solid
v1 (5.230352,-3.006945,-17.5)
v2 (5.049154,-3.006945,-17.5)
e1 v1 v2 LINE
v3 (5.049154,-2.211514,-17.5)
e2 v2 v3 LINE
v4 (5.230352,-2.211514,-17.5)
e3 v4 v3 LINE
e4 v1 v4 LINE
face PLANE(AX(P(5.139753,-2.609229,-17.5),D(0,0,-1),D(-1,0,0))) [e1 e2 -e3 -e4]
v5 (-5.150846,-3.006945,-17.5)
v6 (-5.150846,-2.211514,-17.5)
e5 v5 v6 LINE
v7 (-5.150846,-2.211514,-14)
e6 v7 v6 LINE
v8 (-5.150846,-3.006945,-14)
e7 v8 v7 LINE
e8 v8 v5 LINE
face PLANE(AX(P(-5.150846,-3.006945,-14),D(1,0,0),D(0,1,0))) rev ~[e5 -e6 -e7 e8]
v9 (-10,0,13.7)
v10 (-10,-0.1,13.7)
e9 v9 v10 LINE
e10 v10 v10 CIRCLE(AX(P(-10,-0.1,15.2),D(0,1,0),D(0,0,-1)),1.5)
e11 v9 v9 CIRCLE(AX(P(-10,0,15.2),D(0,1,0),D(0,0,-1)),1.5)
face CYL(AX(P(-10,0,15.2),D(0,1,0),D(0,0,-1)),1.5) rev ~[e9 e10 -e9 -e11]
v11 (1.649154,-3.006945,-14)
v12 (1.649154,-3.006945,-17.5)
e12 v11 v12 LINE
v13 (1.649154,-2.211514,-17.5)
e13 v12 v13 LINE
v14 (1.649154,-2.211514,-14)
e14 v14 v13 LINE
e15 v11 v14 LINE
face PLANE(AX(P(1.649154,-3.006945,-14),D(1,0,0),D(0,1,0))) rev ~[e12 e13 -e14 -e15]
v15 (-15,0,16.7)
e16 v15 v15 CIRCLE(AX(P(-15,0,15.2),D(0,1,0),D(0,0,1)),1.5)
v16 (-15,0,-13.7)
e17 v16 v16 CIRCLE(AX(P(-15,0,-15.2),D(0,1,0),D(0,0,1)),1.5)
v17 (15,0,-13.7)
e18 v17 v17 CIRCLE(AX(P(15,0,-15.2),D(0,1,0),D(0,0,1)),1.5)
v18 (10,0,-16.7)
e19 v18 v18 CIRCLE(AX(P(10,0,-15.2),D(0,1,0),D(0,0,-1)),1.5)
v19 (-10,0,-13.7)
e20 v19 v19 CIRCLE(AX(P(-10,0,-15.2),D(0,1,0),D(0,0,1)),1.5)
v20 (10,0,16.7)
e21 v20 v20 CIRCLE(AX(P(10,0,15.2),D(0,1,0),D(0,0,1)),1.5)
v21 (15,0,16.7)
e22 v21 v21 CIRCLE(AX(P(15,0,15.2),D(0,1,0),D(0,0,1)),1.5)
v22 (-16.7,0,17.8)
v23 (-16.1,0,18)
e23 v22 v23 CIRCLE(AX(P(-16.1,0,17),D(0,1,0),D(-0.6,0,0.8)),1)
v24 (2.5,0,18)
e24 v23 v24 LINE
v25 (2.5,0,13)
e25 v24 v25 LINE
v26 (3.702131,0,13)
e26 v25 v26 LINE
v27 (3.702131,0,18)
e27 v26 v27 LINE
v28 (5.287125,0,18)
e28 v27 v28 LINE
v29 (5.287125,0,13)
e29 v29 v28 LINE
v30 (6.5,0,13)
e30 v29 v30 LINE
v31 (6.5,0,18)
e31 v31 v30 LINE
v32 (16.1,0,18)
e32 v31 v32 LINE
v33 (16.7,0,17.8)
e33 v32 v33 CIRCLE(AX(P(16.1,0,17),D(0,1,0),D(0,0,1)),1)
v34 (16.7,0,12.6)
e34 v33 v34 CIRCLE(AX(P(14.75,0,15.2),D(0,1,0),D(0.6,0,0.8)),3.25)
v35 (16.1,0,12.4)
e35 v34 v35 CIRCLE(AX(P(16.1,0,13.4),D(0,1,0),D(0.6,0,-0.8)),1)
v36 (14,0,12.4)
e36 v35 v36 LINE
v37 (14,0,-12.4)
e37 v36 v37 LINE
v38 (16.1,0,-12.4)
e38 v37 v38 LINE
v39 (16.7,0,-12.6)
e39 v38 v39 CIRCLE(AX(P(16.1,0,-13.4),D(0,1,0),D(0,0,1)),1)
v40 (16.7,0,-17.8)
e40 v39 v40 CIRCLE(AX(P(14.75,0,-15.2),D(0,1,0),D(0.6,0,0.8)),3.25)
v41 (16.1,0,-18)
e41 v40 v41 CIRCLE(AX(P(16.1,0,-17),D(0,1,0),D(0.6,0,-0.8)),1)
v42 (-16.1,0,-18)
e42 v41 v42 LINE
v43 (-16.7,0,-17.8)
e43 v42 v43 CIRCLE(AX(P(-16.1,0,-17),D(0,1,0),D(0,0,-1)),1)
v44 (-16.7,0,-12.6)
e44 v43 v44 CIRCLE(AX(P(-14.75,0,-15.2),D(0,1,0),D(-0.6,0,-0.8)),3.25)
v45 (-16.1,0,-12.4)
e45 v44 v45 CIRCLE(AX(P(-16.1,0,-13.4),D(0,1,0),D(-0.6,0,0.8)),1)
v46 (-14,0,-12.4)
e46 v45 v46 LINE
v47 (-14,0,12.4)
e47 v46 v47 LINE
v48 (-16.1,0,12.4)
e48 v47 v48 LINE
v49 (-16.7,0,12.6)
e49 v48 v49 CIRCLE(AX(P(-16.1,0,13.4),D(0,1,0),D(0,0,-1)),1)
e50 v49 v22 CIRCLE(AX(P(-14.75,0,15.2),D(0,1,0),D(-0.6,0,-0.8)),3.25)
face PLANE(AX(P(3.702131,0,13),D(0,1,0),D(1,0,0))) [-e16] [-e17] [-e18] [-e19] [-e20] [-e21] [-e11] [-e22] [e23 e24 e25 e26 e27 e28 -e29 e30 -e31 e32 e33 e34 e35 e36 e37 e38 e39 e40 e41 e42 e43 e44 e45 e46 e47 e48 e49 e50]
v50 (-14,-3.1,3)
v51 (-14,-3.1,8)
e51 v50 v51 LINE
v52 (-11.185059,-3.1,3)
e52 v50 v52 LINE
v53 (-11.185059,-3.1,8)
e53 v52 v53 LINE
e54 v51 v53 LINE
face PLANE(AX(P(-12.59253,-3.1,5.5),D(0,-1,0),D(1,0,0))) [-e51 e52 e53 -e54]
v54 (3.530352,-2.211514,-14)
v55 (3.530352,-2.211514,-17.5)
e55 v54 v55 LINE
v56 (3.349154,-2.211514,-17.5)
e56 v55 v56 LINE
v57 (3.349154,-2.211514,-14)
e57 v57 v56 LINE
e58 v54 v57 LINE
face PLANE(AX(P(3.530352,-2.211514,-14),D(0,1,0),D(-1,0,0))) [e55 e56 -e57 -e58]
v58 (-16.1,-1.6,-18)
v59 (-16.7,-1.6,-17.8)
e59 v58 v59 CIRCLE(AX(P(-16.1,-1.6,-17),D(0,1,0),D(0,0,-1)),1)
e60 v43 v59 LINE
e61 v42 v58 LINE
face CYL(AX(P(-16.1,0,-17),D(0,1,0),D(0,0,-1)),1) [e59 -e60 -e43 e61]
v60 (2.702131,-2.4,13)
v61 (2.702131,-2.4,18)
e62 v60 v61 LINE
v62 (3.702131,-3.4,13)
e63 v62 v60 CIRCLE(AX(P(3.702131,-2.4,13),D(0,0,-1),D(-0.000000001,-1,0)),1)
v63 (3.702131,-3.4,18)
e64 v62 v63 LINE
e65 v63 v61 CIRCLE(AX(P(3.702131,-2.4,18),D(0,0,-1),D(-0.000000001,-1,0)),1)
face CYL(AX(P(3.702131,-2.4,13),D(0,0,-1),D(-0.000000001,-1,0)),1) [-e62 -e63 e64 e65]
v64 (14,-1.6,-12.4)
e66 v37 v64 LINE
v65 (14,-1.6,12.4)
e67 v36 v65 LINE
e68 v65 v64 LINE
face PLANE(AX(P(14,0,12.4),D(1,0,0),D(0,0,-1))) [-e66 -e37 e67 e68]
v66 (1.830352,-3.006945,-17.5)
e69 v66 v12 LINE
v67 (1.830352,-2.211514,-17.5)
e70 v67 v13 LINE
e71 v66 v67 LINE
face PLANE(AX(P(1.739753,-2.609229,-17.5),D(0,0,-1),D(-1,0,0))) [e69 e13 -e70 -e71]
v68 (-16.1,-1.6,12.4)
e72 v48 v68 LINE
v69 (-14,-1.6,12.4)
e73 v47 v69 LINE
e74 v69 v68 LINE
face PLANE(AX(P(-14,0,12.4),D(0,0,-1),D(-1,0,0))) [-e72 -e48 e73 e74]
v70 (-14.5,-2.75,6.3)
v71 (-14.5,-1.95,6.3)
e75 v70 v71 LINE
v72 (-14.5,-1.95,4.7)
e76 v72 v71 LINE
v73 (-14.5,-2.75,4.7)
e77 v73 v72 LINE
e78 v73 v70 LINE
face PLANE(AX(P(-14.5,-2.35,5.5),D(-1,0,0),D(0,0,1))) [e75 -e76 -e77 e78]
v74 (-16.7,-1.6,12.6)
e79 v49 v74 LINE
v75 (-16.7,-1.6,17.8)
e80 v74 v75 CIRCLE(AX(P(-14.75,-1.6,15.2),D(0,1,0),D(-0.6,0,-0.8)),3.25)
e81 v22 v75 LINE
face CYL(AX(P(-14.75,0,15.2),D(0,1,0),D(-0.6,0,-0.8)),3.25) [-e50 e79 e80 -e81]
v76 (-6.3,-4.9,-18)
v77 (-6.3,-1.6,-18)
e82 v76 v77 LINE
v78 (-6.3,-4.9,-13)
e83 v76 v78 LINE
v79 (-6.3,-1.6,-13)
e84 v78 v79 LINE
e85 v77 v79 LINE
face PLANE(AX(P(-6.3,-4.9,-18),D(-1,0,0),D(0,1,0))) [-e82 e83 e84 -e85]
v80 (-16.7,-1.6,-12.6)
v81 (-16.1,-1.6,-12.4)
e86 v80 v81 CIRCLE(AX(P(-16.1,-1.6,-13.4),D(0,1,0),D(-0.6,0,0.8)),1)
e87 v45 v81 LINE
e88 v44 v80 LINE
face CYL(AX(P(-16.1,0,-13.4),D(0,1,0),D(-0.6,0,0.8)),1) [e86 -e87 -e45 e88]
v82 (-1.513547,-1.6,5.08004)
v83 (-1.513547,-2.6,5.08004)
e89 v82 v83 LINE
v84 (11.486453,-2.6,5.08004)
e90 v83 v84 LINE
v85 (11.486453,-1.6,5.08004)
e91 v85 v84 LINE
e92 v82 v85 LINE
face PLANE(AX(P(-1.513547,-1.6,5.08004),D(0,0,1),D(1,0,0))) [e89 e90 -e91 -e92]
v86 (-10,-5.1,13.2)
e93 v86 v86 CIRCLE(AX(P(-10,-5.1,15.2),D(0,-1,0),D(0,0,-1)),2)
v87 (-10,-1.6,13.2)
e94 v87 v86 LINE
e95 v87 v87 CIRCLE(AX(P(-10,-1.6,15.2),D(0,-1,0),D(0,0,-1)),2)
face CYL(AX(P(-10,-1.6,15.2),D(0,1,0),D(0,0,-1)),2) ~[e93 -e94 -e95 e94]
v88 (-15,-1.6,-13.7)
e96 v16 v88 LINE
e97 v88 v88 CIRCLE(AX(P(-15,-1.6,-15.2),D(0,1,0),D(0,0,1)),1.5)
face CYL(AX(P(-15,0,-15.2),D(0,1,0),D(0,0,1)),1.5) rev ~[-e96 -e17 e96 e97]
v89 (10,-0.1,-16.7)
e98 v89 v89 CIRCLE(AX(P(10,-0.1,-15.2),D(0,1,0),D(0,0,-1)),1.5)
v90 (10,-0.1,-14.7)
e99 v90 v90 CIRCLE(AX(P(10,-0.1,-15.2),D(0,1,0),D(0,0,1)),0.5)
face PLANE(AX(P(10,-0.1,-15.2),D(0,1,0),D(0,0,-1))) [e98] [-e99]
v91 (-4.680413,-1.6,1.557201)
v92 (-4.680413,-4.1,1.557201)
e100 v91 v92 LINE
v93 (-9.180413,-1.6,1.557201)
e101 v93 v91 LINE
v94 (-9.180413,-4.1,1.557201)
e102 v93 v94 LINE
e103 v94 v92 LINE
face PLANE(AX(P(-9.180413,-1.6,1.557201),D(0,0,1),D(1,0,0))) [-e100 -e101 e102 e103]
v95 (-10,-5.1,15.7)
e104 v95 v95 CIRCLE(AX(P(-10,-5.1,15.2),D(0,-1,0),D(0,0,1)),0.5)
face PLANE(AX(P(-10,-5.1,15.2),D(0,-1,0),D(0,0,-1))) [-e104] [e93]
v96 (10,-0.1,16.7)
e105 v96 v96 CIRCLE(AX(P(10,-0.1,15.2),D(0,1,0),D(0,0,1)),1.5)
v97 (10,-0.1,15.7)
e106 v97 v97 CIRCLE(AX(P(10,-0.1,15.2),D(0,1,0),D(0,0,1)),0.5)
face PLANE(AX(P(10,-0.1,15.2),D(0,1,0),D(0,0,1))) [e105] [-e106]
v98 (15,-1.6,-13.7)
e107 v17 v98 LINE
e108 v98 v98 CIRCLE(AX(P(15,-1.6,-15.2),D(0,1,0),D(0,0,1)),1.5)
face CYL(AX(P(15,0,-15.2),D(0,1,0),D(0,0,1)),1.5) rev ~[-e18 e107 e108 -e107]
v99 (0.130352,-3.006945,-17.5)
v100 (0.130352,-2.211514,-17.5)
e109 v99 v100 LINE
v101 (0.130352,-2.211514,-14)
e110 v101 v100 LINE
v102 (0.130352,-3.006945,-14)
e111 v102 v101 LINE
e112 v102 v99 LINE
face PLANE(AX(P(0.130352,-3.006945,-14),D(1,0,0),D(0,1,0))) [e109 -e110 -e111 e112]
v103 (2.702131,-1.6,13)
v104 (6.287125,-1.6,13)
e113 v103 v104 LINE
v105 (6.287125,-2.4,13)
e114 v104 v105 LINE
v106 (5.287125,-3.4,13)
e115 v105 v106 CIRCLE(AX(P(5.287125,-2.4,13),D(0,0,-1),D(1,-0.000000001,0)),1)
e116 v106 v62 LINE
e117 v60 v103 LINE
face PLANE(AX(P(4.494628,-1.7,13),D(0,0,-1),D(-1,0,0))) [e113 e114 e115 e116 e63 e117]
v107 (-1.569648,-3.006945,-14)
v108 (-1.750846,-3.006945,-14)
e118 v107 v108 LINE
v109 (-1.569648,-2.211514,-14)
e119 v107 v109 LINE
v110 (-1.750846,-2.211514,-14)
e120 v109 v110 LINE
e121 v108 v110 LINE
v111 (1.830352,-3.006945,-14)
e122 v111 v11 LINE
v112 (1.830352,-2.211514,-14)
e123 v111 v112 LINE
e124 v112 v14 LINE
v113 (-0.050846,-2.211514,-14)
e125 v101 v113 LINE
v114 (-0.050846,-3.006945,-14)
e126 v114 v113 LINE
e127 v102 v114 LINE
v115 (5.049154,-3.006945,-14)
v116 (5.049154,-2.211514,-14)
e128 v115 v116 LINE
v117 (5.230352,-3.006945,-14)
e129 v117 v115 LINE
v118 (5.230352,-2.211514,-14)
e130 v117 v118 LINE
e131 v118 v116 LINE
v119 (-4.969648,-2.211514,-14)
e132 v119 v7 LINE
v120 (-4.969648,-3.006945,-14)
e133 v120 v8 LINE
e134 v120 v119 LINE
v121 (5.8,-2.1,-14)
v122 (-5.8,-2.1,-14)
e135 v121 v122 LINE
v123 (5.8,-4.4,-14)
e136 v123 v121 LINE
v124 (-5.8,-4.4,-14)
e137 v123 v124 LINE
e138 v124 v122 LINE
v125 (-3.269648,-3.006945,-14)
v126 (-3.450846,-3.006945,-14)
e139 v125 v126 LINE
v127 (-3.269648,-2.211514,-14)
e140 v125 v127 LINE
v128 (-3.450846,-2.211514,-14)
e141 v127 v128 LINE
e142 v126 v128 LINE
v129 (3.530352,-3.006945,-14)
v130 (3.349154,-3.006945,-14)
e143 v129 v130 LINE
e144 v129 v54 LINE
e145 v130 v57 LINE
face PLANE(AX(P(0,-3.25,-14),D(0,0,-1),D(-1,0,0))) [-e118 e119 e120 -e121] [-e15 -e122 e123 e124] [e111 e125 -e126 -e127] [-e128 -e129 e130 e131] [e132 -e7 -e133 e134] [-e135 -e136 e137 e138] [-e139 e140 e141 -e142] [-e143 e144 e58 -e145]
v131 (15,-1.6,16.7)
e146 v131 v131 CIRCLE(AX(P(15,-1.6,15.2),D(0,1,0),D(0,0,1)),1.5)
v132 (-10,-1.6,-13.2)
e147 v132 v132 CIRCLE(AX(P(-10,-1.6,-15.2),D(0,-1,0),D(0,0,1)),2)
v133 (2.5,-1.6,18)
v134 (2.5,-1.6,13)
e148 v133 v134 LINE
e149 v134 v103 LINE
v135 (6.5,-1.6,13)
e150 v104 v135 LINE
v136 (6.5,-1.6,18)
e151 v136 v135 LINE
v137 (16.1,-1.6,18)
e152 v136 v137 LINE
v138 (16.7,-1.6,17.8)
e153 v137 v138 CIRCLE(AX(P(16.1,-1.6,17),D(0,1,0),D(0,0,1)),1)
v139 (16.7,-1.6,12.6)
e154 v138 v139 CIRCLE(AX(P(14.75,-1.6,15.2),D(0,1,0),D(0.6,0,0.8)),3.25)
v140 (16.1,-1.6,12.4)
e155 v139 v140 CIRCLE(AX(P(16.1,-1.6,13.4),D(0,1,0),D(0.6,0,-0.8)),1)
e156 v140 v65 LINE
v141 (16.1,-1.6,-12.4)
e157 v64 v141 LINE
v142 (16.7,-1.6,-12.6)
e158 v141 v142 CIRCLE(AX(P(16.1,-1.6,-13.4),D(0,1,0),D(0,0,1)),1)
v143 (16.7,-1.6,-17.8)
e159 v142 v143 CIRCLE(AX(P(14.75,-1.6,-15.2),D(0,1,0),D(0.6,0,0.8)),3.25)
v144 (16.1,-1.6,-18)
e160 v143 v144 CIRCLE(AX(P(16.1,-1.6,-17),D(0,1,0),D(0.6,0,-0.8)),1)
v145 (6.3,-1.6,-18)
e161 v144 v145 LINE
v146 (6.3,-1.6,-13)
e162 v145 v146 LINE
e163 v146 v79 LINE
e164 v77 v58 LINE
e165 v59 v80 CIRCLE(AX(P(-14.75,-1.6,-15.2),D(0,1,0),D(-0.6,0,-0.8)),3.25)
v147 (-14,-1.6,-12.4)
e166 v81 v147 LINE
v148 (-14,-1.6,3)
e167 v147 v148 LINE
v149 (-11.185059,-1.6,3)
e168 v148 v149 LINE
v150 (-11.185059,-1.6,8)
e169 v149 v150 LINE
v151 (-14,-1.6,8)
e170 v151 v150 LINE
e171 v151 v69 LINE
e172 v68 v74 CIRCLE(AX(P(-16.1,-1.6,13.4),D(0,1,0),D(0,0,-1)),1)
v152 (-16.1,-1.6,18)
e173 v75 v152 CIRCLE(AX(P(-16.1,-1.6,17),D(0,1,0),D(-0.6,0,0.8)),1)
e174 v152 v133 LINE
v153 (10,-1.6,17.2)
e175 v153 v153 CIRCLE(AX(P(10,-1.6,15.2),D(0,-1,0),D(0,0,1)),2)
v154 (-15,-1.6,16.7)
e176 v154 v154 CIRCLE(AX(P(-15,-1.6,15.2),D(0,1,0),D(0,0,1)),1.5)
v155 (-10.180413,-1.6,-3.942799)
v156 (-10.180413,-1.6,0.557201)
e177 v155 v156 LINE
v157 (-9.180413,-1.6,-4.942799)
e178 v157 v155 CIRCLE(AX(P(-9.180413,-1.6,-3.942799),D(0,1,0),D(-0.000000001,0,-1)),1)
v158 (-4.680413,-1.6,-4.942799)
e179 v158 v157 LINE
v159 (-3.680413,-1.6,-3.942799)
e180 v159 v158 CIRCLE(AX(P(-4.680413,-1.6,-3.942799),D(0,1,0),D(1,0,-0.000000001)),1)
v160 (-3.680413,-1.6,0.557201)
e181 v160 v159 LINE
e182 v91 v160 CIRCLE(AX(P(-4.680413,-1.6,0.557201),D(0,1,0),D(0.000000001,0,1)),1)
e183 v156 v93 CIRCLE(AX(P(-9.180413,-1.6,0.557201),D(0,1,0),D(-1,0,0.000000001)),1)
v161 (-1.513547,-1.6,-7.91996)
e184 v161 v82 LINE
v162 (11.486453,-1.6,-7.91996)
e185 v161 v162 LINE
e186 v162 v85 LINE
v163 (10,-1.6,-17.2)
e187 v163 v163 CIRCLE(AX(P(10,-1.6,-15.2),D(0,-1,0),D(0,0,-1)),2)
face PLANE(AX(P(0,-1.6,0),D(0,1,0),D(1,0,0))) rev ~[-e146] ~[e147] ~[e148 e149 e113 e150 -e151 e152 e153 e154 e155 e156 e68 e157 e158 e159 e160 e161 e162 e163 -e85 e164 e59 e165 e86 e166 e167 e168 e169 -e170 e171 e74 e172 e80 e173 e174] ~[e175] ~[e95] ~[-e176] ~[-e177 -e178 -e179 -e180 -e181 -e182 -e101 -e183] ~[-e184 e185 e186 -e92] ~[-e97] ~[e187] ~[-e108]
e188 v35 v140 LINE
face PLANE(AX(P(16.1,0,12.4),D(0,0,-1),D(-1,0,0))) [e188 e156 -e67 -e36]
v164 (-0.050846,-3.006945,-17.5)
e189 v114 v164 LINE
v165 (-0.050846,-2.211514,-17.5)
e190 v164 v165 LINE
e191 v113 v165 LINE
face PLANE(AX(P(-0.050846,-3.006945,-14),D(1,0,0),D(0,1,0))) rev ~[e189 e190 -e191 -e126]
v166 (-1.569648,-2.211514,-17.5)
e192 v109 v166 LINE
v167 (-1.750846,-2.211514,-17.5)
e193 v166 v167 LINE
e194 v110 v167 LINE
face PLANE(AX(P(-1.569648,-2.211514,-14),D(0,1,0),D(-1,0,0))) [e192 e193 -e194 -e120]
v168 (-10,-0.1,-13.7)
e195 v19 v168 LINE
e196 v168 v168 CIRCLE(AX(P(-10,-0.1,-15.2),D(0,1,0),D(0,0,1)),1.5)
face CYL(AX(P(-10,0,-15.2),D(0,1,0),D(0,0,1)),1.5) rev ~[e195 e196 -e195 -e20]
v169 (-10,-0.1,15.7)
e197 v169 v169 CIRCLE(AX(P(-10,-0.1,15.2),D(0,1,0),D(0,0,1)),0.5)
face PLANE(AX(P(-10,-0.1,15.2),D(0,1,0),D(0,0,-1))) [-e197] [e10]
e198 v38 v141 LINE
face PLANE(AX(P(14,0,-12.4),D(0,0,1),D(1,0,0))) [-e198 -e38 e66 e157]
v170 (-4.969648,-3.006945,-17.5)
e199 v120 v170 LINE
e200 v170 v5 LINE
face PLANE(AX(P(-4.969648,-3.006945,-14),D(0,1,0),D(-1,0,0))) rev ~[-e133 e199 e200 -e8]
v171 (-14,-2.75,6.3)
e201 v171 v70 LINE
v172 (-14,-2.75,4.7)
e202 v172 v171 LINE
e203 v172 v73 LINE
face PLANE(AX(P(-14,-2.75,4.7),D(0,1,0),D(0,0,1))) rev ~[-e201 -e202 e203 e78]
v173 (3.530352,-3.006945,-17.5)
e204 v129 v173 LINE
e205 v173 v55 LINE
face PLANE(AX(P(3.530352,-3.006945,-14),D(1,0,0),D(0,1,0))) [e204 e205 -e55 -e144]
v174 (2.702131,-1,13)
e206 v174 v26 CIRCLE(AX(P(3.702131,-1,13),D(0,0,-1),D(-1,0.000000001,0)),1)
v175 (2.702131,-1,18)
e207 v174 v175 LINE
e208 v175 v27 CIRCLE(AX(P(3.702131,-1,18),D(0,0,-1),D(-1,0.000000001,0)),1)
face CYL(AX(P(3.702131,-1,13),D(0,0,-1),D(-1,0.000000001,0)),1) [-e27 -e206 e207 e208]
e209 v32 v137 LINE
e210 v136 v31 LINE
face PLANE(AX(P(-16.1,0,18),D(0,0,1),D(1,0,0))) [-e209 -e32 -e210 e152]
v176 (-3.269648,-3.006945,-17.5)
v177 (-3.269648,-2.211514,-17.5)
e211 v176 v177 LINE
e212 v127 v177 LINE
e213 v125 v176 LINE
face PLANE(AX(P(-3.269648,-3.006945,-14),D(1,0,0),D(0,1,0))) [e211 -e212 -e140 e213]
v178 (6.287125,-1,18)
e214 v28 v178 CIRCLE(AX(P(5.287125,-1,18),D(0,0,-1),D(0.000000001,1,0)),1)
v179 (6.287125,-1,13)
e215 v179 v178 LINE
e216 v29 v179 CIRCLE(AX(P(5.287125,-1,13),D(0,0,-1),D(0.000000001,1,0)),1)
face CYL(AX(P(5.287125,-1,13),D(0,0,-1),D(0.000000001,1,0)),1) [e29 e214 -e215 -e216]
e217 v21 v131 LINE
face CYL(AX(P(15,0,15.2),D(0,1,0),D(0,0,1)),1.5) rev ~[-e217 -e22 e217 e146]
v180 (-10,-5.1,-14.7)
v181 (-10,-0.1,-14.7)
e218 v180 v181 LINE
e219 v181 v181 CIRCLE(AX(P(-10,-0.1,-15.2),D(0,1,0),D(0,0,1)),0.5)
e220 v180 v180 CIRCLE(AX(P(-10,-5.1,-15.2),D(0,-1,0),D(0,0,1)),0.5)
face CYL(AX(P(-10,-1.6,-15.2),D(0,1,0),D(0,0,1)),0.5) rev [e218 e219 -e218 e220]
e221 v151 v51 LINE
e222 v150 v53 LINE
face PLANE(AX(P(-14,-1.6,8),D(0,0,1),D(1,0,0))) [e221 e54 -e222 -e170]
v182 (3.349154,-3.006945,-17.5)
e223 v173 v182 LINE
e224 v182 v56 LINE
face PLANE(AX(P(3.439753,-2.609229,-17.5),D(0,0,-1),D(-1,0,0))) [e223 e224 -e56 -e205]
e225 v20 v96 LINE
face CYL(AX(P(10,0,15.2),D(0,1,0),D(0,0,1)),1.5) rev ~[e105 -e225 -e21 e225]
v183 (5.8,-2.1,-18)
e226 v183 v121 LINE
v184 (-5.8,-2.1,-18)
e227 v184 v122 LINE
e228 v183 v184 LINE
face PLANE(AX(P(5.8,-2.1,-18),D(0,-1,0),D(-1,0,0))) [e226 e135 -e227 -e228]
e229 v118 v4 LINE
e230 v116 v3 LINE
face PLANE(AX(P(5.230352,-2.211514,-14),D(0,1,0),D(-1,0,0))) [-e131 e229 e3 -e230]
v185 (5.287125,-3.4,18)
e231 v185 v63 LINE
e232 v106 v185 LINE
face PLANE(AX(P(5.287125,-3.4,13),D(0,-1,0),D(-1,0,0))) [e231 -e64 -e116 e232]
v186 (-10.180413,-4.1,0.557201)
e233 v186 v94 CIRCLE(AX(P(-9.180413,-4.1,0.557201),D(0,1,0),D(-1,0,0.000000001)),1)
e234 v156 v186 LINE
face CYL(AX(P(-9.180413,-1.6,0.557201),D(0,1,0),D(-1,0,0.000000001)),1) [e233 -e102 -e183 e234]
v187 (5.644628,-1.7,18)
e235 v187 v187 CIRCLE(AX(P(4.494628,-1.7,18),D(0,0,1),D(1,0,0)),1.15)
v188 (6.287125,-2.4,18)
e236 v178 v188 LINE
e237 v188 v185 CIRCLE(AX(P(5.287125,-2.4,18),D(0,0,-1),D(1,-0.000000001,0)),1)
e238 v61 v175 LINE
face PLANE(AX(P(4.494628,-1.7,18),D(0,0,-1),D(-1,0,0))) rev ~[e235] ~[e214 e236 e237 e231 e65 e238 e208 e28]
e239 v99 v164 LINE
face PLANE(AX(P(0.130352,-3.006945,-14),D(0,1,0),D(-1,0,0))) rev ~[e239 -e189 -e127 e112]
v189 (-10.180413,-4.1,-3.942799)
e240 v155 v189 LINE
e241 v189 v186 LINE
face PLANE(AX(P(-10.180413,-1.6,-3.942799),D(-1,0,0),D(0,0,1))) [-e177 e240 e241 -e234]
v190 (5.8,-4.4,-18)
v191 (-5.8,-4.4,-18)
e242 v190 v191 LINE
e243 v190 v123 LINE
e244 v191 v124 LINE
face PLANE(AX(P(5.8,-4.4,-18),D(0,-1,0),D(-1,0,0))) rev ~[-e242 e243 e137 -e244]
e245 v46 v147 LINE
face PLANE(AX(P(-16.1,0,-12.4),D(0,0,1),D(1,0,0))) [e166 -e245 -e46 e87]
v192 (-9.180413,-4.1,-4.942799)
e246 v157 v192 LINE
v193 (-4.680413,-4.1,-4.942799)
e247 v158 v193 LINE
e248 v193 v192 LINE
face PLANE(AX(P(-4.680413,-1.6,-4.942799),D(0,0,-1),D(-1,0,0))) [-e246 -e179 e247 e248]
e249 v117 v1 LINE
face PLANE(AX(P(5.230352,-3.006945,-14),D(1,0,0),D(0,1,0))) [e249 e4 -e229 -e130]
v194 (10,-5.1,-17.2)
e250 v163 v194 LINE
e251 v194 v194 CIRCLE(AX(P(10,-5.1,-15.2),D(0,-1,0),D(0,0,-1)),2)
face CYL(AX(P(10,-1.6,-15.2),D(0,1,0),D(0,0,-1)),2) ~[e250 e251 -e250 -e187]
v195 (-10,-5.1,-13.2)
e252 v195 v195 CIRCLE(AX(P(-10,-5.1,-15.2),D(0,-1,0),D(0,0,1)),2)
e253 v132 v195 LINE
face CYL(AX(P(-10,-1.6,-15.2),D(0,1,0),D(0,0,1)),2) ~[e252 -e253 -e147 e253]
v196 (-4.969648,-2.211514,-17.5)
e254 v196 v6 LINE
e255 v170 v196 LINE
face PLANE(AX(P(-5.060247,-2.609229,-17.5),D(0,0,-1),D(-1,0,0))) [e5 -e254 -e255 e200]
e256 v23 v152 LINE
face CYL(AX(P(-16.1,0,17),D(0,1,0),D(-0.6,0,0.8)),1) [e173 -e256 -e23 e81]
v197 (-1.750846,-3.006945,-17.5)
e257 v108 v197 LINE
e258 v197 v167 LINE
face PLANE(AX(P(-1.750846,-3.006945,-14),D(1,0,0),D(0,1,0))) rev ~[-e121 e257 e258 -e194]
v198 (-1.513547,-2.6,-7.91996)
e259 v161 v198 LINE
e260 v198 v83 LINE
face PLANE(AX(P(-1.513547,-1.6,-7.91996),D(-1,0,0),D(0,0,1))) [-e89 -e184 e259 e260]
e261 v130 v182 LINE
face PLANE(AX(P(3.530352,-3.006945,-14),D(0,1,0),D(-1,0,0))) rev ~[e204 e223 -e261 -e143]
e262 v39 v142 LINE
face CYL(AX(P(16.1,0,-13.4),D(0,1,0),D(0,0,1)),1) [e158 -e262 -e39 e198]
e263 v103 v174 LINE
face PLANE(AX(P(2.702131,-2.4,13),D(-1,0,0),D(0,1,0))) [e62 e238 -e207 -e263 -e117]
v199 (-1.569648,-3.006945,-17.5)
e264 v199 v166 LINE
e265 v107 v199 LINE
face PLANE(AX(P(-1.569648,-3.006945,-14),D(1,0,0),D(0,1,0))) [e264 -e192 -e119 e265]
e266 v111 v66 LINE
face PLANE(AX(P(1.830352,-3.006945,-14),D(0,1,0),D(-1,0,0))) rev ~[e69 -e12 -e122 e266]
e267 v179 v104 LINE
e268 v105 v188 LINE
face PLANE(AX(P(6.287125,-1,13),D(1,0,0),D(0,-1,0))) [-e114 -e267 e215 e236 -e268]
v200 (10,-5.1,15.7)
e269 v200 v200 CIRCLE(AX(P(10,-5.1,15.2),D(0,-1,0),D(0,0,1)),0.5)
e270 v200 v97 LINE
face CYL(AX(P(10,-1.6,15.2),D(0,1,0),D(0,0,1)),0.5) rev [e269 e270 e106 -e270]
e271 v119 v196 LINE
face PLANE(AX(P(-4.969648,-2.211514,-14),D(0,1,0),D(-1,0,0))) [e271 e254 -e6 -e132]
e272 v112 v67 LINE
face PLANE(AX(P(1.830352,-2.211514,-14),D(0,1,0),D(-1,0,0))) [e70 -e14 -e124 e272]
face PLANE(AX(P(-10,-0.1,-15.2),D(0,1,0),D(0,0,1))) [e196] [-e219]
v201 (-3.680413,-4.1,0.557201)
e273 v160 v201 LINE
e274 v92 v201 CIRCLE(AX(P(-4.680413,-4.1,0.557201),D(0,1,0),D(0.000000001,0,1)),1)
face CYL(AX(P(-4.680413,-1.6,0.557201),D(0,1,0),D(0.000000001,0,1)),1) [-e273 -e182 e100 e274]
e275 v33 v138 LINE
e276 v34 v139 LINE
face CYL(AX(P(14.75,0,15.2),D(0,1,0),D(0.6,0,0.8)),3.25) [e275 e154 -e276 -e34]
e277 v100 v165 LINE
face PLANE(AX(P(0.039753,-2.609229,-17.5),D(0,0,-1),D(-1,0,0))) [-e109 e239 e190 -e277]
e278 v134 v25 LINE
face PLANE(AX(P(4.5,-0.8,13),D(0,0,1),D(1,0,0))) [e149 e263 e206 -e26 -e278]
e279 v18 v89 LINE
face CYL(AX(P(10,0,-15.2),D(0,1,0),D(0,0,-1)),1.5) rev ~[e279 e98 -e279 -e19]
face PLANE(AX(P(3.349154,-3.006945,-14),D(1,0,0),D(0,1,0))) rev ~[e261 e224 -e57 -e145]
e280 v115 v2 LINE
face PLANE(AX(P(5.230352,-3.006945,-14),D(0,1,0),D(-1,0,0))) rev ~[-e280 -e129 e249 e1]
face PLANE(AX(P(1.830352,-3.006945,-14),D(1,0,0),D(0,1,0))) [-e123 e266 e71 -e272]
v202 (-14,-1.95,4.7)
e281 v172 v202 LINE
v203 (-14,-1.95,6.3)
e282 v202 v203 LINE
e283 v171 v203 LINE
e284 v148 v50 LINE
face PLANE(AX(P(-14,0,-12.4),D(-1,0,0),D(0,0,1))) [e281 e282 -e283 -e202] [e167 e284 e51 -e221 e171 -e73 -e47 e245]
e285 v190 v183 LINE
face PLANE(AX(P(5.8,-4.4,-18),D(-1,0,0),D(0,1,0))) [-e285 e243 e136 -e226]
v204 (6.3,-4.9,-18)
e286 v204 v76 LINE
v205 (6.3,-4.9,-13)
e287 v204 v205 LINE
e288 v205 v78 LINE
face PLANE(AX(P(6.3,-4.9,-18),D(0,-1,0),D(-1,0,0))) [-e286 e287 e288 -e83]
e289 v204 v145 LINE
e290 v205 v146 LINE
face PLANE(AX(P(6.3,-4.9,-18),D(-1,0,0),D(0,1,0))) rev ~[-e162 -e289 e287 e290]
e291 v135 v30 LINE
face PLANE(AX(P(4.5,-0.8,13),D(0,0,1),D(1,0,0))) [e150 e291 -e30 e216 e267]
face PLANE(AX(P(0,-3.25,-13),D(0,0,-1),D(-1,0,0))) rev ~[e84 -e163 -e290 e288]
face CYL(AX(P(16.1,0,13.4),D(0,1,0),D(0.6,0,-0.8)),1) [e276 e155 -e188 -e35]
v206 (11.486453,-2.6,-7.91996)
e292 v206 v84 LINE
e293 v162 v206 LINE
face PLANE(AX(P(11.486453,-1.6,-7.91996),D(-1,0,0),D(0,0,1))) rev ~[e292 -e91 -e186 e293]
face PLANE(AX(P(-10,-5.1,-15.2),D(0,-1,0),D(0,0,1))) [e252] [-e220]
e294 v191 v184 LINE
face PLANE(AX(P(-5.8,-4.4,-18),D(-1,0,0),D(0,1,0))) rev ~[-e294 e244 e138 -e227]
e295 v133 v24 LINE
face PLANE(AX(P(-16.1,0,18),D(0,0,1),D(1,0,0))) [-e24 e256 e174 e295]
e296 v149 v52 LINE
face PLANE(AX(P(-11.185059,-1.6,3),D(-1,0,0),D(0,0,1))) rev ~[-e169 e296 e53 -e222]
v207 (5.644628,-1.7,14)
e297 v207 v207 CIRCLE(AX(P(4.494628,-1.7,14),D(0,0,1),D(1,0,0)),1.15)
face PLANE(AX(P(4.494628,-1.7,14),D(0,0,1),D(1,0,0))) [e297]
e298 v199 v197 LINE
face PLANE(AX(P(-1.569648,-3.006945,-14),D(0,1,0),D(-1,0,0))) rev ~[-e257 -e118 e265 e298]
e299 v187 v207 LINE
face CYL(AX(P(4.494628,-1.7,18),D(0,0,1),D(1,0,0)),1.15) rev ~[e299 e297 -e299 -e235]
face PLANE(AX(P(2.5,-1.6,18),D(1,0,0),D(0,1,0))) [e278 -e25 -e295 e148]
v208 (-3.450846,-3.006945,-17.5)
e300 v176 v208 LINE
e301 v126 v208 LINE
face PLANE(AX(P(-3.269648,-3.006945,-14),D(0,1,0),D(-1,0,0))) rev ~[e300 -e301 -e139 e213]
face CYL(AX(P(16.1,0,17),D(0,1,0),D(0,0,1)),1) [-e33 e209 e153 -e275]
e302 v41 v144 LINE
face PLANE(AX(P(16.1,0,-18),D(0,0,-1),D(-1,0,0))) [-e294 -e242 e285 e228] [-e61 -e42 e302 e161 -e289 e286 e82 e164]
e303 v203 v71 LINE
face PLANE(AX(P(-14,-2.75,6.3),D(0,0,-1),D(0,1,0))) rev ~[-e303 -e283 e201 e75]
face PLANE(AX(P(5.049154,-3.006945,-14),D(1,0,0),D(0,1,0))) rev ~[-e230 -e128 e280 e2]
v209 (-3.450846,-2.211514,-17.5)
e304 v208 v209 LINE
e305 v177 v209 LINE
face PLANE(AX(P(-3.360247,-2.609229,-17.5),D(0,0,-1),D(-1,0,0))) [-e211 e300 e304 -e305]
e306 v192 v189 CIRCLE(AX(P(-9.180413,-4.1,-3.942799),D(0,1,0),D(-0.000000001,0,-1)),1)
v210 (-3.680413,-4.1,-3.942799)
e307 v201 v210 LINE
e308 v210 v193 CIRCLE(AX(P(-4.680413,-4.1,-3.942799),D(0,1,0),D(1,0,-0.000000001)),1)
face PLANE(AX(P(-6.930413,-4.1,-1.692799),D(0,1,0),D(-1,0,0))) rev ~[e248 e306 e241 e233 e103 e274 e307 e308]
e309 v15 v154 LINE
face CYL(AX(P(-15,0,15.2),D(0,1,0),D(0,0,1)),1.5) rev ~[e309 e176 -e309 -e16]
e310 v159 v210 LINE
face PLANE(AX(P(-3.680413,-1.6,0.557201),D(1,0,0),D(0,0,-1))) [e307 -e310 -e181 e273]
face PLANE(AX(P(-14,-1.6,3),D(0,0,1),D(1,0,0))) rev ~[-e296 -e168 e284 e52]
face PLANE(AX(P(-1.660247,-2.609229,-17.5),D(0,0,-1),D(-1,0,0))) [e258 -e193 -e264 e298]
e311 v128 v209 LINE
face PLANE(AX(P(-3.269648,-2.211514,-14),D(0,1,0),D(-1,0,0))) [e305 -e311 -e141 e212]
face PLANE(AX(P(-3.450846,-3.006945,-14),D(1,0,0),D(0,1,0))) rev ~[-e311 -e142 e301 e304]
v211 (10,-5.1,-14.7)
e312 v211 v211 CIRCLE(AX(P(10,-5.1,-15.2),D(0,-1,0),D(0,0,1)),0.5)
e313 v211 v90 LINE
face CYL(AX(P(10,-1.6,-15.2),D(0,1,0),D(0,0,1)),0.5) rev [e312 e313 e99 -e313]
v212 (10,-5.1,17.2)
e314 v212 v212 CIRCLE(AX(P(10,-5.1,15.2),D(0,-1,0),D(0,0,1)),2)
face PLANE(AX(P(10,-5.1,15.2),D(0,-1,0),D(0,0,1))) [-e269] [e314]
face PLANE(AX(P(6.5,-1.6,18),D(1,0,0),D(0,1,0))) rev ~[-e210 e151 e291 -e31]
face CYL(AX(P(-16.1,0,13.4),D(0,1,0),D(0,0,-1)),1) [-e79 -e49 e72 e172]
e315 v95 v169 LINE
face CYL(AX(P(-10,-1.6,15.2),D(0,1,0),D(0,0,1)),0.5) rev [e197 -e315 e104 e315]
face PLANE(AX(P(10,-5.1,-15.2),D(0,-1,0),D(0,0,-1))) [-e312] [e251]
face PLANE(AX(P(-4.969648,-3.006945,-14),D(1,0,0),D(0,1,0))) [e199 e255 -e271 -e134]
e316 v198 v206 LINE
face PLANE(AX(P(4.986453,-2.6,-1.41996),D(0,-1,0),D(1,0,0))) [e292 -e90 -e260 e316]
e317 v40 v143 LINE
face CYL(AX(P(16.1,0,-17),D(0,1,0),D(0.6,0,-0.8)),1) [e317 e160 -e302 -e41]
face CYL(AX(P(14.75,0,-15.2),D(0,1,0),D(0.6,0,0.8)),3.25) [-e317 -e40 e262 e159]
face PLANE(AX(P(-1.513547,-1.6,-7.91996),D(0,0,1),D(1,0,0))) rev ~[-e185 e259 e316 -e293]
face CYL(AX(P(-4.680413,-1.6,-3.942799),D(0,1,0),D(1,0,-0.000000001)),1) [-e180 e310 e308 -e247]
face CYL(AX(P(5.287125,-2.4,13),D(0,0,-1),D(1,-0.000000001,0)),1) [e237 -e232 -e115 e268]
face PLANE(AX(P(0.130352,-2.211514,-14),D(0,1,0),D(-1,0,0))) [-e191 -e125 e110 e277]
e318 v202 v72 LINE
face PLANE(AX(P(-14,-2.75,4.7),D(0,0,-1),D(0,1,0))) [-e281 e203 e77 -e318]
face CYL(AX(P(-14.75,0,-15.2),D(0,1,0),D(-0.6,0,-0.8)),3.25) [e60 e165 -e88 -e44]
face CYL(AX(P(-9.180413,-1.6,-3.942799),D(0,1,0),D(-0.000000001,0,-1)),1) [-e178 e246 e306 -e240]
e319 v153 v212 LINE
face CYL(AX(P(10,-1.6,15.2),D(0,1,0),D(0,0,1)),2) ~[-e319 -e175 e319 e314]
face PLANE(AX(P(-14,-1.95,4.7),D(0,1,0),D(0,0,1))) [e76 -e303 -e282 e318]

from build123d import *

# Parameters (mm, degrees)
SKETCH1_R            = 1.5
SKETCH1_R_2          = 0.5
BOSS_EXTRUDE1_DEPTH  = 1.6
SKETCH2_R            = 2
SKETCH2_R_2          = 0.5
BOSS_EXTRUDE2_DEPTH  = 3.5
SKETCH3_R            = 1.5
SKETCH3_R_2          = 0.5
CUT_EXTRUDE1_DEPTH   = 0.1
SKETCH4_W            = 2.814940843
SKETCH4_H            = 5
BOSS_EXTRUDE3_DEPTH  = 1.5
SKETCH5_W            = 1.6
SKETCH5_H            = 0.8
BOSS_EXTRUDE4_DEPTH  = 0.5
BOSS_EXTRUDE5_DEPTH  = 2.5
SKETCH7_W            = 13
SKETCH7_H            = 13
BOSS_EXTRUDE6_DEPTH  = 1
SKETCH8_W            = 4
SKETCH8_H            = 1.6
CUT_EXTRUDE2_DEPTH   = 5
BOSS_EXTRUDE8_DEPTH  = 5
SKETCH10_R           = 1.15
CUT_EXTRUDE3_DEPTH   = 4
SKETCH11_W           = 12.6
SKETCH11_H           = 3.3
BOSS_EXTRUDE9_DEPTH  = 5
SKETCH12_W           = 11.6
SKETCH12_H           = 2.3
CUT_EXTRUDE4_DEPTH   = 4
SKETCH13_W           = 0.181198264
SKETCH13_H           = 0.795431403
BOSS_EXTRUDE10_DEPTH = 3.5


with BuildPart() as part:
    # Sketch1 → Boss-Extrude1 (new body)
    with BuildSketch(Plane(origin=(0, 0, 0), x_dir=(1, 0, 0), z_dir=(0, 1, 0))):
        with BuildLine():
            ThreePointArc((16.1, -18), (16.416227766, -17.948683298), (16.7, -17.8))
            ThreePointArc((16.7, -17.8), (18, -15.2), (16.7, -12.6))
            ThreePointArc((16.7, -12.6), (16.416227766, -12.451316702), (16.1, -12.4))
            Line((16.1, -12.4), (14, -12.4))
            Line((14, -12.4), (14, 12.4))
            Line((14, 12.4), (16.1, 12.4))
            ThreePointArc((16.1, 12.4), (16.416227766, 12.451316702), (16.7, 12.6))
            ThreePointArc((16.7, 12.6), (18, 15.2), (16.7, 17.8))
            ThreePointArc((16.7, 17.8), (16.416227766, 17.948683298), (16.1, 18))
            Line((16.1, 18), (-16.1, 18))
            ThreePointArc((-16.1, 18), (-16.416227766, 17.948683298), (-16.7, 17.8))
            ThreePointArc((-16.7, 17.8), (-18, 15.2), (-16.7, 12.6))
            ThreePointArc((-16.7, 12.6), (-16.416227766, 12.451316702), (-16.1, 12.4))
            Line((-16.1, 12.4), (-14, 12.4))
            Line((-14, 12.4), (-14, -12.4))
            Line((-14, -12.4), (-16.1, -12.4))
            ThreePointArc((-16.1, -12.4), (-16.416227766, -12.451316702), (-16.7, -12.6))
            ThreePointArc((-16.7, -12.6), (-18, -15.2), (-16.7, -17.8))
            ThreePointArc((-16.7, -17.8), (-16.416227766, -17.948683298), (-16.1, -18))
            Line((-16.1, -18), (16.1, -18))
        make_face()
        with Locations(Location((-15, 15.2, 0), (0, 0, 270))):
            Circle(SKETCH1_R, mode=Mode.SUBTRACT)
        with Locations(Location((15, 15.2, 0), (0, 0, 270))):
            Circle(SKETCH1_R, mode=Mode.SUBTRACT)
        with Locations(Location((-15, -15.2, 0), (0, 0, 270))):
            Circle(SKETCH1_R, mode=Mode.SUBTRACT)
        with Locations(Location((15, -15.2, 0), (0, 0, 270))):
            Circle(SKETCH1_R, mode=Mode.SUBTRACT)
        with Locations(Location((-10, -15.2, 0), (0, 0, 270))):
            Circle(SKETCH1_R_2, mode=Mode.SUBTRACT)
        with Locations(Location((10, -15.2, 0), (0, 0, 270))):
            Circle(SKETCH1_R_2, mode=Mode.SUBTRACT)
        with Locations(Location((-10, 15.2, 0), (0, 0, 270))):
            Circle(SKETCH1_R_2, mode=Mode.SUBTRACT)
        with Locations(Location((10, 15.2, 0), (0, 0, 270))):
            Circle(SKETCH1_R_2, mode=Mode.SUBTRACT)
    extrude(amount=-BOSS_EXTRUDE1_DEPTH)

    # Sketch2 → Boss-Extrude2 (add)
    # profile 1 of 4: a face of its own
    with BuildSketch(Plane.XZ.offset(1.6)):
        with Locations(Location((-10, 15.2, 0), (0, 0, 270))):
            Circle(SKETCH2_R)
        with Locations(Location((-10, 15.2, 0), (0, 0, 90))):
            Circle(SKETCH2_R_2, mode=Mode.SUBTRACT)
    # profile 2 of 4: a face of its own
    with BuildSketch(Plane.XZ.offset(1.6)):
        with Locations(Location((10, 15.2, 0), (0, 0, 90))):
            Circle(SKETCH2_R)
        with Locations(Location((10, 15.2, 0), (0, 0, 90))):
            Circle(SKETCH2_R_2, mode=Mode.SUBTRACT)
    # profile 3 of 4: a face of its own
    with BuildSketch(Plane.XZ.offset(1.6)):
        with Locations(Location((10, -15.2, 0), (0, 0, 270))):
            Circle(SKETCH2_R)
        with Locations(Location((10, -15.2, 0), (0, 0, 90))):
            Circle(SKETCH2_R_2, mode=Mode.SUBTRACT)
    # profile 4 of 4: a face of its own
    with BuildSketch(Plane.XZ.offset(1.6)):
        with Locations(Location((-10, -15.2, 0), (0, 0, 90))):
            Circle(SKETCH2_R)
        with Locations(Location((-10, -15.2, 0), (0, 0, 90))):
            Circle(SKETCH2_R_2, mode=Mode.SUBTRACT)
    extrude(amount=BOSS_EXTRUDE2_DEPTH)

    # Sketch3 → Cut-Extrude1 (cut)
    # profile 1 of 4: a face of its own
    with BuildSketch(Plane(origin=(0, 0, 0), x_dir=(1, 0, 0), z_dir=(0, 1, 0))):
        with Locations(Location((-10, 15.2, 0), (0, 0, 270))):
            Circle(SKETCH3_R)
        with Locations(Location((-10, 15.2, 0), (0, 0, 270))):
            Circle(SKETCH3_R_2, mode=Mode.SUBTRACT)
    # profile 2 of 4: a face of its own
    with BuildSketch(Plane(origin=(0, 0, 0), x_dir=(1, 0, 0), z_dir=(0, 1, 0))):
        with Locations(Location((10, 15.2, 0), (0, 0, 90))):
            Circle(SKETCH3_R)
        with Locations(Location((10, 15.2, 0), (0, 0, 270))):
            Circle(SKETCH3_R_2, mode=Mode.SUBTRACT)
    # profile 3 of 4: a face of its own
    with BuildSketch(Plane(origin=(0, 0, 0), x_dir=(1, 0, 0), z_dir=(0, 1, 0))):
        with Locations(Location((10, -15.2, 0), (0, 0, 270))):
            Circle(SKETCH3_R)
        with Locations(Location((10, -15.2, 0), (0, 0, 270))):
            Circle(SKETCH3_R_2, mode=Mode.SUBTRACT)
    # profile 4 of 4: a face of its own
    with BuildSketch(Plane(origin=(0, 0, 0), x_dir=(1, 0, 0), z_dir=(0, 1, 0))):
        with Locations(Location((-10, -15.2, 0), (0, 0, 90))):
            Circle(SKETCH3_R)
        with Locations(Location((-10, -15.2, 0), (0, 0, 270))):
            Circle(SKETCH3_R_2, mode=Mode.SUBTRACT)
    extrude(amount=-CUT_EXTRUDE1_DEPTH, mode=Mode.SUBTRACT)

    # Sketch4 → Boss-Extrude3 (add)
    with BuildSketch(Plane.XZ.offset(1.6)):
        with Locations((-12.592529579, 5.5)):
            Rectangle(SKETCH4_W, SKETCH4_H)
    extrude(amount=BOSS_EXTRUDE3_DEPTH)

    # Sketch5 → Boss-Extrude4 (add)
    with BuildSketch(Plane.ZY.offset(14)):
        with Locations((5.5, -2.35)):
            Rectangle(SKETCH5_W, SKETCH5_H)
    extrude(amount=BOSS_EXTRUDE4_DEPTH)

    # Sketch6 → Boss-Extrude5 (add)
    with BuildSketch(Plane.XZ.offset(1.6)):
        with BuildLine():
            Line((-9.180413125, 1.55720135), (-4.680413125, 1.55720135))
            ThreePointArc((-4.680413125, 1.55720135), (-3.973306344, 1.264308131), (-3.680413125, 0.55720135))
            Line((-3.680413125, 0.55720135), (-3.680413125, -3.94279865))
            ThreePointArc((-3.680413125, -3.94279865), (-3.973306344, -4.649905431), (-4.680413125, -4.94279865))
            Line((-4.680413125, -4.94279865), (-9.180413125, -4.94279865))
            ThreePointArc((-9.180413125, -4.94279865), (-9.887519906, -4.649905431), (-10.180413125, -3.94279865))
            Line((-10.180413125, -3.94279865), (-10.180413125, 0.55720135))
            ThreePointArc((-10.180413125, 0.55720135), (-9.887519906, 1.264308131), (-9.180413125, 1.55720135))
        make_face()
    extrude(amount=BOSS_EXTRUDE5_DEPTH)

    # Sketch7 → Boss-Extrude6 (add)
    with BuildSketch(Plane.XZ.offset(1.6)):
        with Locations((4.986452967, -1.419959553)):
            Rectangle(SKETCH7_W, SKETCH7_H)
    extrude(amount=BOSS_EXTRUDE6_DEPTH)

    # Sketch8 → Cut-Extrude2 (cut)
    with BuildSketch(Plane.XY.offset(18)):
        with Locations((4.5, -0.8)):
            Rectangle(SKETCH8_W, SKETCH8_H)
    extrude(amount=-CUT_EXTRUDE2_DEPTH, mode=Mode.SUBTRACT)

    # Sketch9 → Boss-Extrude8 (add)
    with BuildSketch(Plane.XY.offset(13)):
        with BuildLine():
            Line((3.702131482, 0), (5.287124598, 0))
            ThreePointArc((5.287124598, 0), (5.994231379, -0.292893219), (6.287124598, -1))
            Line((6.287124598, -1), (6.287124598, -2.4))
            ThreePointArc((6.287124598, -2.4), (5.994231379, -3.107106781), (5.287124598, -3.4))
            Line((5.287124598, -3.4), (3.702131482, -3.4))
            ThreePointArc((3.702131482, -3.4), (2.995024701, -3.107106781), (2.702131482, -2.4))
            Line((2.702131482, -2.4), (2.702131482, -1))
            ThreePointArc((2.702131482, -1), (2.995024701, -0.292893219), (3.702131482, 0))
        make_face()
    extrude(amount=BOSS_EXTRUDE8_DEPTH)

    # Sketch10 → Cut-Extrude3 (cut)
    with BuildSketch(Plane.XY.offset(18)):
        with Locations((4.49462804, -1.7)):
            Circle(SKETCH10_R)
    extrude(amount=-CUT_EXTRUDE3_DEPTH, mode=Mode.SUBTRACT)

    # Sketch11 → Boss-Extrude9 (add)
    with BuildSketch(Plane(origin=(0, 0, -18), x_dir=(-1, 0, 0), z_dir=(0, 0, -1))):
        with Locations((0, -3.25)):
            Rectangle(SKETCH11_W, SKETCH11_H)
    extrude(amount=-BOSS_EXTRUDE9_DEPTH)

    # Sketch12 → Cut-Extrude4 (cut)
    with BuildSketch(Plane(origin=(0, 0, -18), x_dir=(-1, 0, 0), z_dir=(0, 0, -1))):
        with Locations((0, -3.25)):
            Rectangle(SKETCH12_W, SKETCH12_H)
    extrude(amount=-CUT_EXTRUDE4_DEPTH, mode=Mode.SUBTRACT)

    # Sketch13 → Boss-Extrude10 (add)
    with BuildSketch(Plane(origin=(0, 0, -14), x_dir=(-1, 0, 0), z_dir=(0, 0, -1))):
        with Locations((-5.139752883, -2.609229229)):
            Rectangle(SKETCH13_W, SKETCH13_H)
        with Locations((-3.439752883, -2.609229229)):
            Rectangle(SKETCH13_W, SKETCH13_H)
        with Locations((-1.739752883, -2.609229229)):
            Rectangle(SKETCH13_W, SKETCH13_H)
        with Locations((-0.039752883, -2.609229229)):
            Rectangle(SKETCH13_W, SKETCH13_H)
        with Locations((1.660247117, -2.609229229)):
            Rectangle(SKETCH13_W, SKETCH13_H)
        with Locations((3.360247117, -2.609229229)):
            Rectangle(SKETCH13_W, SKETCH13_H)
        with Locations((5.060247117, -2.609229229)):
            Rectangle(SKETCH13_W, SKETCH13_H)
    extrude(amount=BOSS_EXTRUDE10_DEPTH)


solid = part.part
